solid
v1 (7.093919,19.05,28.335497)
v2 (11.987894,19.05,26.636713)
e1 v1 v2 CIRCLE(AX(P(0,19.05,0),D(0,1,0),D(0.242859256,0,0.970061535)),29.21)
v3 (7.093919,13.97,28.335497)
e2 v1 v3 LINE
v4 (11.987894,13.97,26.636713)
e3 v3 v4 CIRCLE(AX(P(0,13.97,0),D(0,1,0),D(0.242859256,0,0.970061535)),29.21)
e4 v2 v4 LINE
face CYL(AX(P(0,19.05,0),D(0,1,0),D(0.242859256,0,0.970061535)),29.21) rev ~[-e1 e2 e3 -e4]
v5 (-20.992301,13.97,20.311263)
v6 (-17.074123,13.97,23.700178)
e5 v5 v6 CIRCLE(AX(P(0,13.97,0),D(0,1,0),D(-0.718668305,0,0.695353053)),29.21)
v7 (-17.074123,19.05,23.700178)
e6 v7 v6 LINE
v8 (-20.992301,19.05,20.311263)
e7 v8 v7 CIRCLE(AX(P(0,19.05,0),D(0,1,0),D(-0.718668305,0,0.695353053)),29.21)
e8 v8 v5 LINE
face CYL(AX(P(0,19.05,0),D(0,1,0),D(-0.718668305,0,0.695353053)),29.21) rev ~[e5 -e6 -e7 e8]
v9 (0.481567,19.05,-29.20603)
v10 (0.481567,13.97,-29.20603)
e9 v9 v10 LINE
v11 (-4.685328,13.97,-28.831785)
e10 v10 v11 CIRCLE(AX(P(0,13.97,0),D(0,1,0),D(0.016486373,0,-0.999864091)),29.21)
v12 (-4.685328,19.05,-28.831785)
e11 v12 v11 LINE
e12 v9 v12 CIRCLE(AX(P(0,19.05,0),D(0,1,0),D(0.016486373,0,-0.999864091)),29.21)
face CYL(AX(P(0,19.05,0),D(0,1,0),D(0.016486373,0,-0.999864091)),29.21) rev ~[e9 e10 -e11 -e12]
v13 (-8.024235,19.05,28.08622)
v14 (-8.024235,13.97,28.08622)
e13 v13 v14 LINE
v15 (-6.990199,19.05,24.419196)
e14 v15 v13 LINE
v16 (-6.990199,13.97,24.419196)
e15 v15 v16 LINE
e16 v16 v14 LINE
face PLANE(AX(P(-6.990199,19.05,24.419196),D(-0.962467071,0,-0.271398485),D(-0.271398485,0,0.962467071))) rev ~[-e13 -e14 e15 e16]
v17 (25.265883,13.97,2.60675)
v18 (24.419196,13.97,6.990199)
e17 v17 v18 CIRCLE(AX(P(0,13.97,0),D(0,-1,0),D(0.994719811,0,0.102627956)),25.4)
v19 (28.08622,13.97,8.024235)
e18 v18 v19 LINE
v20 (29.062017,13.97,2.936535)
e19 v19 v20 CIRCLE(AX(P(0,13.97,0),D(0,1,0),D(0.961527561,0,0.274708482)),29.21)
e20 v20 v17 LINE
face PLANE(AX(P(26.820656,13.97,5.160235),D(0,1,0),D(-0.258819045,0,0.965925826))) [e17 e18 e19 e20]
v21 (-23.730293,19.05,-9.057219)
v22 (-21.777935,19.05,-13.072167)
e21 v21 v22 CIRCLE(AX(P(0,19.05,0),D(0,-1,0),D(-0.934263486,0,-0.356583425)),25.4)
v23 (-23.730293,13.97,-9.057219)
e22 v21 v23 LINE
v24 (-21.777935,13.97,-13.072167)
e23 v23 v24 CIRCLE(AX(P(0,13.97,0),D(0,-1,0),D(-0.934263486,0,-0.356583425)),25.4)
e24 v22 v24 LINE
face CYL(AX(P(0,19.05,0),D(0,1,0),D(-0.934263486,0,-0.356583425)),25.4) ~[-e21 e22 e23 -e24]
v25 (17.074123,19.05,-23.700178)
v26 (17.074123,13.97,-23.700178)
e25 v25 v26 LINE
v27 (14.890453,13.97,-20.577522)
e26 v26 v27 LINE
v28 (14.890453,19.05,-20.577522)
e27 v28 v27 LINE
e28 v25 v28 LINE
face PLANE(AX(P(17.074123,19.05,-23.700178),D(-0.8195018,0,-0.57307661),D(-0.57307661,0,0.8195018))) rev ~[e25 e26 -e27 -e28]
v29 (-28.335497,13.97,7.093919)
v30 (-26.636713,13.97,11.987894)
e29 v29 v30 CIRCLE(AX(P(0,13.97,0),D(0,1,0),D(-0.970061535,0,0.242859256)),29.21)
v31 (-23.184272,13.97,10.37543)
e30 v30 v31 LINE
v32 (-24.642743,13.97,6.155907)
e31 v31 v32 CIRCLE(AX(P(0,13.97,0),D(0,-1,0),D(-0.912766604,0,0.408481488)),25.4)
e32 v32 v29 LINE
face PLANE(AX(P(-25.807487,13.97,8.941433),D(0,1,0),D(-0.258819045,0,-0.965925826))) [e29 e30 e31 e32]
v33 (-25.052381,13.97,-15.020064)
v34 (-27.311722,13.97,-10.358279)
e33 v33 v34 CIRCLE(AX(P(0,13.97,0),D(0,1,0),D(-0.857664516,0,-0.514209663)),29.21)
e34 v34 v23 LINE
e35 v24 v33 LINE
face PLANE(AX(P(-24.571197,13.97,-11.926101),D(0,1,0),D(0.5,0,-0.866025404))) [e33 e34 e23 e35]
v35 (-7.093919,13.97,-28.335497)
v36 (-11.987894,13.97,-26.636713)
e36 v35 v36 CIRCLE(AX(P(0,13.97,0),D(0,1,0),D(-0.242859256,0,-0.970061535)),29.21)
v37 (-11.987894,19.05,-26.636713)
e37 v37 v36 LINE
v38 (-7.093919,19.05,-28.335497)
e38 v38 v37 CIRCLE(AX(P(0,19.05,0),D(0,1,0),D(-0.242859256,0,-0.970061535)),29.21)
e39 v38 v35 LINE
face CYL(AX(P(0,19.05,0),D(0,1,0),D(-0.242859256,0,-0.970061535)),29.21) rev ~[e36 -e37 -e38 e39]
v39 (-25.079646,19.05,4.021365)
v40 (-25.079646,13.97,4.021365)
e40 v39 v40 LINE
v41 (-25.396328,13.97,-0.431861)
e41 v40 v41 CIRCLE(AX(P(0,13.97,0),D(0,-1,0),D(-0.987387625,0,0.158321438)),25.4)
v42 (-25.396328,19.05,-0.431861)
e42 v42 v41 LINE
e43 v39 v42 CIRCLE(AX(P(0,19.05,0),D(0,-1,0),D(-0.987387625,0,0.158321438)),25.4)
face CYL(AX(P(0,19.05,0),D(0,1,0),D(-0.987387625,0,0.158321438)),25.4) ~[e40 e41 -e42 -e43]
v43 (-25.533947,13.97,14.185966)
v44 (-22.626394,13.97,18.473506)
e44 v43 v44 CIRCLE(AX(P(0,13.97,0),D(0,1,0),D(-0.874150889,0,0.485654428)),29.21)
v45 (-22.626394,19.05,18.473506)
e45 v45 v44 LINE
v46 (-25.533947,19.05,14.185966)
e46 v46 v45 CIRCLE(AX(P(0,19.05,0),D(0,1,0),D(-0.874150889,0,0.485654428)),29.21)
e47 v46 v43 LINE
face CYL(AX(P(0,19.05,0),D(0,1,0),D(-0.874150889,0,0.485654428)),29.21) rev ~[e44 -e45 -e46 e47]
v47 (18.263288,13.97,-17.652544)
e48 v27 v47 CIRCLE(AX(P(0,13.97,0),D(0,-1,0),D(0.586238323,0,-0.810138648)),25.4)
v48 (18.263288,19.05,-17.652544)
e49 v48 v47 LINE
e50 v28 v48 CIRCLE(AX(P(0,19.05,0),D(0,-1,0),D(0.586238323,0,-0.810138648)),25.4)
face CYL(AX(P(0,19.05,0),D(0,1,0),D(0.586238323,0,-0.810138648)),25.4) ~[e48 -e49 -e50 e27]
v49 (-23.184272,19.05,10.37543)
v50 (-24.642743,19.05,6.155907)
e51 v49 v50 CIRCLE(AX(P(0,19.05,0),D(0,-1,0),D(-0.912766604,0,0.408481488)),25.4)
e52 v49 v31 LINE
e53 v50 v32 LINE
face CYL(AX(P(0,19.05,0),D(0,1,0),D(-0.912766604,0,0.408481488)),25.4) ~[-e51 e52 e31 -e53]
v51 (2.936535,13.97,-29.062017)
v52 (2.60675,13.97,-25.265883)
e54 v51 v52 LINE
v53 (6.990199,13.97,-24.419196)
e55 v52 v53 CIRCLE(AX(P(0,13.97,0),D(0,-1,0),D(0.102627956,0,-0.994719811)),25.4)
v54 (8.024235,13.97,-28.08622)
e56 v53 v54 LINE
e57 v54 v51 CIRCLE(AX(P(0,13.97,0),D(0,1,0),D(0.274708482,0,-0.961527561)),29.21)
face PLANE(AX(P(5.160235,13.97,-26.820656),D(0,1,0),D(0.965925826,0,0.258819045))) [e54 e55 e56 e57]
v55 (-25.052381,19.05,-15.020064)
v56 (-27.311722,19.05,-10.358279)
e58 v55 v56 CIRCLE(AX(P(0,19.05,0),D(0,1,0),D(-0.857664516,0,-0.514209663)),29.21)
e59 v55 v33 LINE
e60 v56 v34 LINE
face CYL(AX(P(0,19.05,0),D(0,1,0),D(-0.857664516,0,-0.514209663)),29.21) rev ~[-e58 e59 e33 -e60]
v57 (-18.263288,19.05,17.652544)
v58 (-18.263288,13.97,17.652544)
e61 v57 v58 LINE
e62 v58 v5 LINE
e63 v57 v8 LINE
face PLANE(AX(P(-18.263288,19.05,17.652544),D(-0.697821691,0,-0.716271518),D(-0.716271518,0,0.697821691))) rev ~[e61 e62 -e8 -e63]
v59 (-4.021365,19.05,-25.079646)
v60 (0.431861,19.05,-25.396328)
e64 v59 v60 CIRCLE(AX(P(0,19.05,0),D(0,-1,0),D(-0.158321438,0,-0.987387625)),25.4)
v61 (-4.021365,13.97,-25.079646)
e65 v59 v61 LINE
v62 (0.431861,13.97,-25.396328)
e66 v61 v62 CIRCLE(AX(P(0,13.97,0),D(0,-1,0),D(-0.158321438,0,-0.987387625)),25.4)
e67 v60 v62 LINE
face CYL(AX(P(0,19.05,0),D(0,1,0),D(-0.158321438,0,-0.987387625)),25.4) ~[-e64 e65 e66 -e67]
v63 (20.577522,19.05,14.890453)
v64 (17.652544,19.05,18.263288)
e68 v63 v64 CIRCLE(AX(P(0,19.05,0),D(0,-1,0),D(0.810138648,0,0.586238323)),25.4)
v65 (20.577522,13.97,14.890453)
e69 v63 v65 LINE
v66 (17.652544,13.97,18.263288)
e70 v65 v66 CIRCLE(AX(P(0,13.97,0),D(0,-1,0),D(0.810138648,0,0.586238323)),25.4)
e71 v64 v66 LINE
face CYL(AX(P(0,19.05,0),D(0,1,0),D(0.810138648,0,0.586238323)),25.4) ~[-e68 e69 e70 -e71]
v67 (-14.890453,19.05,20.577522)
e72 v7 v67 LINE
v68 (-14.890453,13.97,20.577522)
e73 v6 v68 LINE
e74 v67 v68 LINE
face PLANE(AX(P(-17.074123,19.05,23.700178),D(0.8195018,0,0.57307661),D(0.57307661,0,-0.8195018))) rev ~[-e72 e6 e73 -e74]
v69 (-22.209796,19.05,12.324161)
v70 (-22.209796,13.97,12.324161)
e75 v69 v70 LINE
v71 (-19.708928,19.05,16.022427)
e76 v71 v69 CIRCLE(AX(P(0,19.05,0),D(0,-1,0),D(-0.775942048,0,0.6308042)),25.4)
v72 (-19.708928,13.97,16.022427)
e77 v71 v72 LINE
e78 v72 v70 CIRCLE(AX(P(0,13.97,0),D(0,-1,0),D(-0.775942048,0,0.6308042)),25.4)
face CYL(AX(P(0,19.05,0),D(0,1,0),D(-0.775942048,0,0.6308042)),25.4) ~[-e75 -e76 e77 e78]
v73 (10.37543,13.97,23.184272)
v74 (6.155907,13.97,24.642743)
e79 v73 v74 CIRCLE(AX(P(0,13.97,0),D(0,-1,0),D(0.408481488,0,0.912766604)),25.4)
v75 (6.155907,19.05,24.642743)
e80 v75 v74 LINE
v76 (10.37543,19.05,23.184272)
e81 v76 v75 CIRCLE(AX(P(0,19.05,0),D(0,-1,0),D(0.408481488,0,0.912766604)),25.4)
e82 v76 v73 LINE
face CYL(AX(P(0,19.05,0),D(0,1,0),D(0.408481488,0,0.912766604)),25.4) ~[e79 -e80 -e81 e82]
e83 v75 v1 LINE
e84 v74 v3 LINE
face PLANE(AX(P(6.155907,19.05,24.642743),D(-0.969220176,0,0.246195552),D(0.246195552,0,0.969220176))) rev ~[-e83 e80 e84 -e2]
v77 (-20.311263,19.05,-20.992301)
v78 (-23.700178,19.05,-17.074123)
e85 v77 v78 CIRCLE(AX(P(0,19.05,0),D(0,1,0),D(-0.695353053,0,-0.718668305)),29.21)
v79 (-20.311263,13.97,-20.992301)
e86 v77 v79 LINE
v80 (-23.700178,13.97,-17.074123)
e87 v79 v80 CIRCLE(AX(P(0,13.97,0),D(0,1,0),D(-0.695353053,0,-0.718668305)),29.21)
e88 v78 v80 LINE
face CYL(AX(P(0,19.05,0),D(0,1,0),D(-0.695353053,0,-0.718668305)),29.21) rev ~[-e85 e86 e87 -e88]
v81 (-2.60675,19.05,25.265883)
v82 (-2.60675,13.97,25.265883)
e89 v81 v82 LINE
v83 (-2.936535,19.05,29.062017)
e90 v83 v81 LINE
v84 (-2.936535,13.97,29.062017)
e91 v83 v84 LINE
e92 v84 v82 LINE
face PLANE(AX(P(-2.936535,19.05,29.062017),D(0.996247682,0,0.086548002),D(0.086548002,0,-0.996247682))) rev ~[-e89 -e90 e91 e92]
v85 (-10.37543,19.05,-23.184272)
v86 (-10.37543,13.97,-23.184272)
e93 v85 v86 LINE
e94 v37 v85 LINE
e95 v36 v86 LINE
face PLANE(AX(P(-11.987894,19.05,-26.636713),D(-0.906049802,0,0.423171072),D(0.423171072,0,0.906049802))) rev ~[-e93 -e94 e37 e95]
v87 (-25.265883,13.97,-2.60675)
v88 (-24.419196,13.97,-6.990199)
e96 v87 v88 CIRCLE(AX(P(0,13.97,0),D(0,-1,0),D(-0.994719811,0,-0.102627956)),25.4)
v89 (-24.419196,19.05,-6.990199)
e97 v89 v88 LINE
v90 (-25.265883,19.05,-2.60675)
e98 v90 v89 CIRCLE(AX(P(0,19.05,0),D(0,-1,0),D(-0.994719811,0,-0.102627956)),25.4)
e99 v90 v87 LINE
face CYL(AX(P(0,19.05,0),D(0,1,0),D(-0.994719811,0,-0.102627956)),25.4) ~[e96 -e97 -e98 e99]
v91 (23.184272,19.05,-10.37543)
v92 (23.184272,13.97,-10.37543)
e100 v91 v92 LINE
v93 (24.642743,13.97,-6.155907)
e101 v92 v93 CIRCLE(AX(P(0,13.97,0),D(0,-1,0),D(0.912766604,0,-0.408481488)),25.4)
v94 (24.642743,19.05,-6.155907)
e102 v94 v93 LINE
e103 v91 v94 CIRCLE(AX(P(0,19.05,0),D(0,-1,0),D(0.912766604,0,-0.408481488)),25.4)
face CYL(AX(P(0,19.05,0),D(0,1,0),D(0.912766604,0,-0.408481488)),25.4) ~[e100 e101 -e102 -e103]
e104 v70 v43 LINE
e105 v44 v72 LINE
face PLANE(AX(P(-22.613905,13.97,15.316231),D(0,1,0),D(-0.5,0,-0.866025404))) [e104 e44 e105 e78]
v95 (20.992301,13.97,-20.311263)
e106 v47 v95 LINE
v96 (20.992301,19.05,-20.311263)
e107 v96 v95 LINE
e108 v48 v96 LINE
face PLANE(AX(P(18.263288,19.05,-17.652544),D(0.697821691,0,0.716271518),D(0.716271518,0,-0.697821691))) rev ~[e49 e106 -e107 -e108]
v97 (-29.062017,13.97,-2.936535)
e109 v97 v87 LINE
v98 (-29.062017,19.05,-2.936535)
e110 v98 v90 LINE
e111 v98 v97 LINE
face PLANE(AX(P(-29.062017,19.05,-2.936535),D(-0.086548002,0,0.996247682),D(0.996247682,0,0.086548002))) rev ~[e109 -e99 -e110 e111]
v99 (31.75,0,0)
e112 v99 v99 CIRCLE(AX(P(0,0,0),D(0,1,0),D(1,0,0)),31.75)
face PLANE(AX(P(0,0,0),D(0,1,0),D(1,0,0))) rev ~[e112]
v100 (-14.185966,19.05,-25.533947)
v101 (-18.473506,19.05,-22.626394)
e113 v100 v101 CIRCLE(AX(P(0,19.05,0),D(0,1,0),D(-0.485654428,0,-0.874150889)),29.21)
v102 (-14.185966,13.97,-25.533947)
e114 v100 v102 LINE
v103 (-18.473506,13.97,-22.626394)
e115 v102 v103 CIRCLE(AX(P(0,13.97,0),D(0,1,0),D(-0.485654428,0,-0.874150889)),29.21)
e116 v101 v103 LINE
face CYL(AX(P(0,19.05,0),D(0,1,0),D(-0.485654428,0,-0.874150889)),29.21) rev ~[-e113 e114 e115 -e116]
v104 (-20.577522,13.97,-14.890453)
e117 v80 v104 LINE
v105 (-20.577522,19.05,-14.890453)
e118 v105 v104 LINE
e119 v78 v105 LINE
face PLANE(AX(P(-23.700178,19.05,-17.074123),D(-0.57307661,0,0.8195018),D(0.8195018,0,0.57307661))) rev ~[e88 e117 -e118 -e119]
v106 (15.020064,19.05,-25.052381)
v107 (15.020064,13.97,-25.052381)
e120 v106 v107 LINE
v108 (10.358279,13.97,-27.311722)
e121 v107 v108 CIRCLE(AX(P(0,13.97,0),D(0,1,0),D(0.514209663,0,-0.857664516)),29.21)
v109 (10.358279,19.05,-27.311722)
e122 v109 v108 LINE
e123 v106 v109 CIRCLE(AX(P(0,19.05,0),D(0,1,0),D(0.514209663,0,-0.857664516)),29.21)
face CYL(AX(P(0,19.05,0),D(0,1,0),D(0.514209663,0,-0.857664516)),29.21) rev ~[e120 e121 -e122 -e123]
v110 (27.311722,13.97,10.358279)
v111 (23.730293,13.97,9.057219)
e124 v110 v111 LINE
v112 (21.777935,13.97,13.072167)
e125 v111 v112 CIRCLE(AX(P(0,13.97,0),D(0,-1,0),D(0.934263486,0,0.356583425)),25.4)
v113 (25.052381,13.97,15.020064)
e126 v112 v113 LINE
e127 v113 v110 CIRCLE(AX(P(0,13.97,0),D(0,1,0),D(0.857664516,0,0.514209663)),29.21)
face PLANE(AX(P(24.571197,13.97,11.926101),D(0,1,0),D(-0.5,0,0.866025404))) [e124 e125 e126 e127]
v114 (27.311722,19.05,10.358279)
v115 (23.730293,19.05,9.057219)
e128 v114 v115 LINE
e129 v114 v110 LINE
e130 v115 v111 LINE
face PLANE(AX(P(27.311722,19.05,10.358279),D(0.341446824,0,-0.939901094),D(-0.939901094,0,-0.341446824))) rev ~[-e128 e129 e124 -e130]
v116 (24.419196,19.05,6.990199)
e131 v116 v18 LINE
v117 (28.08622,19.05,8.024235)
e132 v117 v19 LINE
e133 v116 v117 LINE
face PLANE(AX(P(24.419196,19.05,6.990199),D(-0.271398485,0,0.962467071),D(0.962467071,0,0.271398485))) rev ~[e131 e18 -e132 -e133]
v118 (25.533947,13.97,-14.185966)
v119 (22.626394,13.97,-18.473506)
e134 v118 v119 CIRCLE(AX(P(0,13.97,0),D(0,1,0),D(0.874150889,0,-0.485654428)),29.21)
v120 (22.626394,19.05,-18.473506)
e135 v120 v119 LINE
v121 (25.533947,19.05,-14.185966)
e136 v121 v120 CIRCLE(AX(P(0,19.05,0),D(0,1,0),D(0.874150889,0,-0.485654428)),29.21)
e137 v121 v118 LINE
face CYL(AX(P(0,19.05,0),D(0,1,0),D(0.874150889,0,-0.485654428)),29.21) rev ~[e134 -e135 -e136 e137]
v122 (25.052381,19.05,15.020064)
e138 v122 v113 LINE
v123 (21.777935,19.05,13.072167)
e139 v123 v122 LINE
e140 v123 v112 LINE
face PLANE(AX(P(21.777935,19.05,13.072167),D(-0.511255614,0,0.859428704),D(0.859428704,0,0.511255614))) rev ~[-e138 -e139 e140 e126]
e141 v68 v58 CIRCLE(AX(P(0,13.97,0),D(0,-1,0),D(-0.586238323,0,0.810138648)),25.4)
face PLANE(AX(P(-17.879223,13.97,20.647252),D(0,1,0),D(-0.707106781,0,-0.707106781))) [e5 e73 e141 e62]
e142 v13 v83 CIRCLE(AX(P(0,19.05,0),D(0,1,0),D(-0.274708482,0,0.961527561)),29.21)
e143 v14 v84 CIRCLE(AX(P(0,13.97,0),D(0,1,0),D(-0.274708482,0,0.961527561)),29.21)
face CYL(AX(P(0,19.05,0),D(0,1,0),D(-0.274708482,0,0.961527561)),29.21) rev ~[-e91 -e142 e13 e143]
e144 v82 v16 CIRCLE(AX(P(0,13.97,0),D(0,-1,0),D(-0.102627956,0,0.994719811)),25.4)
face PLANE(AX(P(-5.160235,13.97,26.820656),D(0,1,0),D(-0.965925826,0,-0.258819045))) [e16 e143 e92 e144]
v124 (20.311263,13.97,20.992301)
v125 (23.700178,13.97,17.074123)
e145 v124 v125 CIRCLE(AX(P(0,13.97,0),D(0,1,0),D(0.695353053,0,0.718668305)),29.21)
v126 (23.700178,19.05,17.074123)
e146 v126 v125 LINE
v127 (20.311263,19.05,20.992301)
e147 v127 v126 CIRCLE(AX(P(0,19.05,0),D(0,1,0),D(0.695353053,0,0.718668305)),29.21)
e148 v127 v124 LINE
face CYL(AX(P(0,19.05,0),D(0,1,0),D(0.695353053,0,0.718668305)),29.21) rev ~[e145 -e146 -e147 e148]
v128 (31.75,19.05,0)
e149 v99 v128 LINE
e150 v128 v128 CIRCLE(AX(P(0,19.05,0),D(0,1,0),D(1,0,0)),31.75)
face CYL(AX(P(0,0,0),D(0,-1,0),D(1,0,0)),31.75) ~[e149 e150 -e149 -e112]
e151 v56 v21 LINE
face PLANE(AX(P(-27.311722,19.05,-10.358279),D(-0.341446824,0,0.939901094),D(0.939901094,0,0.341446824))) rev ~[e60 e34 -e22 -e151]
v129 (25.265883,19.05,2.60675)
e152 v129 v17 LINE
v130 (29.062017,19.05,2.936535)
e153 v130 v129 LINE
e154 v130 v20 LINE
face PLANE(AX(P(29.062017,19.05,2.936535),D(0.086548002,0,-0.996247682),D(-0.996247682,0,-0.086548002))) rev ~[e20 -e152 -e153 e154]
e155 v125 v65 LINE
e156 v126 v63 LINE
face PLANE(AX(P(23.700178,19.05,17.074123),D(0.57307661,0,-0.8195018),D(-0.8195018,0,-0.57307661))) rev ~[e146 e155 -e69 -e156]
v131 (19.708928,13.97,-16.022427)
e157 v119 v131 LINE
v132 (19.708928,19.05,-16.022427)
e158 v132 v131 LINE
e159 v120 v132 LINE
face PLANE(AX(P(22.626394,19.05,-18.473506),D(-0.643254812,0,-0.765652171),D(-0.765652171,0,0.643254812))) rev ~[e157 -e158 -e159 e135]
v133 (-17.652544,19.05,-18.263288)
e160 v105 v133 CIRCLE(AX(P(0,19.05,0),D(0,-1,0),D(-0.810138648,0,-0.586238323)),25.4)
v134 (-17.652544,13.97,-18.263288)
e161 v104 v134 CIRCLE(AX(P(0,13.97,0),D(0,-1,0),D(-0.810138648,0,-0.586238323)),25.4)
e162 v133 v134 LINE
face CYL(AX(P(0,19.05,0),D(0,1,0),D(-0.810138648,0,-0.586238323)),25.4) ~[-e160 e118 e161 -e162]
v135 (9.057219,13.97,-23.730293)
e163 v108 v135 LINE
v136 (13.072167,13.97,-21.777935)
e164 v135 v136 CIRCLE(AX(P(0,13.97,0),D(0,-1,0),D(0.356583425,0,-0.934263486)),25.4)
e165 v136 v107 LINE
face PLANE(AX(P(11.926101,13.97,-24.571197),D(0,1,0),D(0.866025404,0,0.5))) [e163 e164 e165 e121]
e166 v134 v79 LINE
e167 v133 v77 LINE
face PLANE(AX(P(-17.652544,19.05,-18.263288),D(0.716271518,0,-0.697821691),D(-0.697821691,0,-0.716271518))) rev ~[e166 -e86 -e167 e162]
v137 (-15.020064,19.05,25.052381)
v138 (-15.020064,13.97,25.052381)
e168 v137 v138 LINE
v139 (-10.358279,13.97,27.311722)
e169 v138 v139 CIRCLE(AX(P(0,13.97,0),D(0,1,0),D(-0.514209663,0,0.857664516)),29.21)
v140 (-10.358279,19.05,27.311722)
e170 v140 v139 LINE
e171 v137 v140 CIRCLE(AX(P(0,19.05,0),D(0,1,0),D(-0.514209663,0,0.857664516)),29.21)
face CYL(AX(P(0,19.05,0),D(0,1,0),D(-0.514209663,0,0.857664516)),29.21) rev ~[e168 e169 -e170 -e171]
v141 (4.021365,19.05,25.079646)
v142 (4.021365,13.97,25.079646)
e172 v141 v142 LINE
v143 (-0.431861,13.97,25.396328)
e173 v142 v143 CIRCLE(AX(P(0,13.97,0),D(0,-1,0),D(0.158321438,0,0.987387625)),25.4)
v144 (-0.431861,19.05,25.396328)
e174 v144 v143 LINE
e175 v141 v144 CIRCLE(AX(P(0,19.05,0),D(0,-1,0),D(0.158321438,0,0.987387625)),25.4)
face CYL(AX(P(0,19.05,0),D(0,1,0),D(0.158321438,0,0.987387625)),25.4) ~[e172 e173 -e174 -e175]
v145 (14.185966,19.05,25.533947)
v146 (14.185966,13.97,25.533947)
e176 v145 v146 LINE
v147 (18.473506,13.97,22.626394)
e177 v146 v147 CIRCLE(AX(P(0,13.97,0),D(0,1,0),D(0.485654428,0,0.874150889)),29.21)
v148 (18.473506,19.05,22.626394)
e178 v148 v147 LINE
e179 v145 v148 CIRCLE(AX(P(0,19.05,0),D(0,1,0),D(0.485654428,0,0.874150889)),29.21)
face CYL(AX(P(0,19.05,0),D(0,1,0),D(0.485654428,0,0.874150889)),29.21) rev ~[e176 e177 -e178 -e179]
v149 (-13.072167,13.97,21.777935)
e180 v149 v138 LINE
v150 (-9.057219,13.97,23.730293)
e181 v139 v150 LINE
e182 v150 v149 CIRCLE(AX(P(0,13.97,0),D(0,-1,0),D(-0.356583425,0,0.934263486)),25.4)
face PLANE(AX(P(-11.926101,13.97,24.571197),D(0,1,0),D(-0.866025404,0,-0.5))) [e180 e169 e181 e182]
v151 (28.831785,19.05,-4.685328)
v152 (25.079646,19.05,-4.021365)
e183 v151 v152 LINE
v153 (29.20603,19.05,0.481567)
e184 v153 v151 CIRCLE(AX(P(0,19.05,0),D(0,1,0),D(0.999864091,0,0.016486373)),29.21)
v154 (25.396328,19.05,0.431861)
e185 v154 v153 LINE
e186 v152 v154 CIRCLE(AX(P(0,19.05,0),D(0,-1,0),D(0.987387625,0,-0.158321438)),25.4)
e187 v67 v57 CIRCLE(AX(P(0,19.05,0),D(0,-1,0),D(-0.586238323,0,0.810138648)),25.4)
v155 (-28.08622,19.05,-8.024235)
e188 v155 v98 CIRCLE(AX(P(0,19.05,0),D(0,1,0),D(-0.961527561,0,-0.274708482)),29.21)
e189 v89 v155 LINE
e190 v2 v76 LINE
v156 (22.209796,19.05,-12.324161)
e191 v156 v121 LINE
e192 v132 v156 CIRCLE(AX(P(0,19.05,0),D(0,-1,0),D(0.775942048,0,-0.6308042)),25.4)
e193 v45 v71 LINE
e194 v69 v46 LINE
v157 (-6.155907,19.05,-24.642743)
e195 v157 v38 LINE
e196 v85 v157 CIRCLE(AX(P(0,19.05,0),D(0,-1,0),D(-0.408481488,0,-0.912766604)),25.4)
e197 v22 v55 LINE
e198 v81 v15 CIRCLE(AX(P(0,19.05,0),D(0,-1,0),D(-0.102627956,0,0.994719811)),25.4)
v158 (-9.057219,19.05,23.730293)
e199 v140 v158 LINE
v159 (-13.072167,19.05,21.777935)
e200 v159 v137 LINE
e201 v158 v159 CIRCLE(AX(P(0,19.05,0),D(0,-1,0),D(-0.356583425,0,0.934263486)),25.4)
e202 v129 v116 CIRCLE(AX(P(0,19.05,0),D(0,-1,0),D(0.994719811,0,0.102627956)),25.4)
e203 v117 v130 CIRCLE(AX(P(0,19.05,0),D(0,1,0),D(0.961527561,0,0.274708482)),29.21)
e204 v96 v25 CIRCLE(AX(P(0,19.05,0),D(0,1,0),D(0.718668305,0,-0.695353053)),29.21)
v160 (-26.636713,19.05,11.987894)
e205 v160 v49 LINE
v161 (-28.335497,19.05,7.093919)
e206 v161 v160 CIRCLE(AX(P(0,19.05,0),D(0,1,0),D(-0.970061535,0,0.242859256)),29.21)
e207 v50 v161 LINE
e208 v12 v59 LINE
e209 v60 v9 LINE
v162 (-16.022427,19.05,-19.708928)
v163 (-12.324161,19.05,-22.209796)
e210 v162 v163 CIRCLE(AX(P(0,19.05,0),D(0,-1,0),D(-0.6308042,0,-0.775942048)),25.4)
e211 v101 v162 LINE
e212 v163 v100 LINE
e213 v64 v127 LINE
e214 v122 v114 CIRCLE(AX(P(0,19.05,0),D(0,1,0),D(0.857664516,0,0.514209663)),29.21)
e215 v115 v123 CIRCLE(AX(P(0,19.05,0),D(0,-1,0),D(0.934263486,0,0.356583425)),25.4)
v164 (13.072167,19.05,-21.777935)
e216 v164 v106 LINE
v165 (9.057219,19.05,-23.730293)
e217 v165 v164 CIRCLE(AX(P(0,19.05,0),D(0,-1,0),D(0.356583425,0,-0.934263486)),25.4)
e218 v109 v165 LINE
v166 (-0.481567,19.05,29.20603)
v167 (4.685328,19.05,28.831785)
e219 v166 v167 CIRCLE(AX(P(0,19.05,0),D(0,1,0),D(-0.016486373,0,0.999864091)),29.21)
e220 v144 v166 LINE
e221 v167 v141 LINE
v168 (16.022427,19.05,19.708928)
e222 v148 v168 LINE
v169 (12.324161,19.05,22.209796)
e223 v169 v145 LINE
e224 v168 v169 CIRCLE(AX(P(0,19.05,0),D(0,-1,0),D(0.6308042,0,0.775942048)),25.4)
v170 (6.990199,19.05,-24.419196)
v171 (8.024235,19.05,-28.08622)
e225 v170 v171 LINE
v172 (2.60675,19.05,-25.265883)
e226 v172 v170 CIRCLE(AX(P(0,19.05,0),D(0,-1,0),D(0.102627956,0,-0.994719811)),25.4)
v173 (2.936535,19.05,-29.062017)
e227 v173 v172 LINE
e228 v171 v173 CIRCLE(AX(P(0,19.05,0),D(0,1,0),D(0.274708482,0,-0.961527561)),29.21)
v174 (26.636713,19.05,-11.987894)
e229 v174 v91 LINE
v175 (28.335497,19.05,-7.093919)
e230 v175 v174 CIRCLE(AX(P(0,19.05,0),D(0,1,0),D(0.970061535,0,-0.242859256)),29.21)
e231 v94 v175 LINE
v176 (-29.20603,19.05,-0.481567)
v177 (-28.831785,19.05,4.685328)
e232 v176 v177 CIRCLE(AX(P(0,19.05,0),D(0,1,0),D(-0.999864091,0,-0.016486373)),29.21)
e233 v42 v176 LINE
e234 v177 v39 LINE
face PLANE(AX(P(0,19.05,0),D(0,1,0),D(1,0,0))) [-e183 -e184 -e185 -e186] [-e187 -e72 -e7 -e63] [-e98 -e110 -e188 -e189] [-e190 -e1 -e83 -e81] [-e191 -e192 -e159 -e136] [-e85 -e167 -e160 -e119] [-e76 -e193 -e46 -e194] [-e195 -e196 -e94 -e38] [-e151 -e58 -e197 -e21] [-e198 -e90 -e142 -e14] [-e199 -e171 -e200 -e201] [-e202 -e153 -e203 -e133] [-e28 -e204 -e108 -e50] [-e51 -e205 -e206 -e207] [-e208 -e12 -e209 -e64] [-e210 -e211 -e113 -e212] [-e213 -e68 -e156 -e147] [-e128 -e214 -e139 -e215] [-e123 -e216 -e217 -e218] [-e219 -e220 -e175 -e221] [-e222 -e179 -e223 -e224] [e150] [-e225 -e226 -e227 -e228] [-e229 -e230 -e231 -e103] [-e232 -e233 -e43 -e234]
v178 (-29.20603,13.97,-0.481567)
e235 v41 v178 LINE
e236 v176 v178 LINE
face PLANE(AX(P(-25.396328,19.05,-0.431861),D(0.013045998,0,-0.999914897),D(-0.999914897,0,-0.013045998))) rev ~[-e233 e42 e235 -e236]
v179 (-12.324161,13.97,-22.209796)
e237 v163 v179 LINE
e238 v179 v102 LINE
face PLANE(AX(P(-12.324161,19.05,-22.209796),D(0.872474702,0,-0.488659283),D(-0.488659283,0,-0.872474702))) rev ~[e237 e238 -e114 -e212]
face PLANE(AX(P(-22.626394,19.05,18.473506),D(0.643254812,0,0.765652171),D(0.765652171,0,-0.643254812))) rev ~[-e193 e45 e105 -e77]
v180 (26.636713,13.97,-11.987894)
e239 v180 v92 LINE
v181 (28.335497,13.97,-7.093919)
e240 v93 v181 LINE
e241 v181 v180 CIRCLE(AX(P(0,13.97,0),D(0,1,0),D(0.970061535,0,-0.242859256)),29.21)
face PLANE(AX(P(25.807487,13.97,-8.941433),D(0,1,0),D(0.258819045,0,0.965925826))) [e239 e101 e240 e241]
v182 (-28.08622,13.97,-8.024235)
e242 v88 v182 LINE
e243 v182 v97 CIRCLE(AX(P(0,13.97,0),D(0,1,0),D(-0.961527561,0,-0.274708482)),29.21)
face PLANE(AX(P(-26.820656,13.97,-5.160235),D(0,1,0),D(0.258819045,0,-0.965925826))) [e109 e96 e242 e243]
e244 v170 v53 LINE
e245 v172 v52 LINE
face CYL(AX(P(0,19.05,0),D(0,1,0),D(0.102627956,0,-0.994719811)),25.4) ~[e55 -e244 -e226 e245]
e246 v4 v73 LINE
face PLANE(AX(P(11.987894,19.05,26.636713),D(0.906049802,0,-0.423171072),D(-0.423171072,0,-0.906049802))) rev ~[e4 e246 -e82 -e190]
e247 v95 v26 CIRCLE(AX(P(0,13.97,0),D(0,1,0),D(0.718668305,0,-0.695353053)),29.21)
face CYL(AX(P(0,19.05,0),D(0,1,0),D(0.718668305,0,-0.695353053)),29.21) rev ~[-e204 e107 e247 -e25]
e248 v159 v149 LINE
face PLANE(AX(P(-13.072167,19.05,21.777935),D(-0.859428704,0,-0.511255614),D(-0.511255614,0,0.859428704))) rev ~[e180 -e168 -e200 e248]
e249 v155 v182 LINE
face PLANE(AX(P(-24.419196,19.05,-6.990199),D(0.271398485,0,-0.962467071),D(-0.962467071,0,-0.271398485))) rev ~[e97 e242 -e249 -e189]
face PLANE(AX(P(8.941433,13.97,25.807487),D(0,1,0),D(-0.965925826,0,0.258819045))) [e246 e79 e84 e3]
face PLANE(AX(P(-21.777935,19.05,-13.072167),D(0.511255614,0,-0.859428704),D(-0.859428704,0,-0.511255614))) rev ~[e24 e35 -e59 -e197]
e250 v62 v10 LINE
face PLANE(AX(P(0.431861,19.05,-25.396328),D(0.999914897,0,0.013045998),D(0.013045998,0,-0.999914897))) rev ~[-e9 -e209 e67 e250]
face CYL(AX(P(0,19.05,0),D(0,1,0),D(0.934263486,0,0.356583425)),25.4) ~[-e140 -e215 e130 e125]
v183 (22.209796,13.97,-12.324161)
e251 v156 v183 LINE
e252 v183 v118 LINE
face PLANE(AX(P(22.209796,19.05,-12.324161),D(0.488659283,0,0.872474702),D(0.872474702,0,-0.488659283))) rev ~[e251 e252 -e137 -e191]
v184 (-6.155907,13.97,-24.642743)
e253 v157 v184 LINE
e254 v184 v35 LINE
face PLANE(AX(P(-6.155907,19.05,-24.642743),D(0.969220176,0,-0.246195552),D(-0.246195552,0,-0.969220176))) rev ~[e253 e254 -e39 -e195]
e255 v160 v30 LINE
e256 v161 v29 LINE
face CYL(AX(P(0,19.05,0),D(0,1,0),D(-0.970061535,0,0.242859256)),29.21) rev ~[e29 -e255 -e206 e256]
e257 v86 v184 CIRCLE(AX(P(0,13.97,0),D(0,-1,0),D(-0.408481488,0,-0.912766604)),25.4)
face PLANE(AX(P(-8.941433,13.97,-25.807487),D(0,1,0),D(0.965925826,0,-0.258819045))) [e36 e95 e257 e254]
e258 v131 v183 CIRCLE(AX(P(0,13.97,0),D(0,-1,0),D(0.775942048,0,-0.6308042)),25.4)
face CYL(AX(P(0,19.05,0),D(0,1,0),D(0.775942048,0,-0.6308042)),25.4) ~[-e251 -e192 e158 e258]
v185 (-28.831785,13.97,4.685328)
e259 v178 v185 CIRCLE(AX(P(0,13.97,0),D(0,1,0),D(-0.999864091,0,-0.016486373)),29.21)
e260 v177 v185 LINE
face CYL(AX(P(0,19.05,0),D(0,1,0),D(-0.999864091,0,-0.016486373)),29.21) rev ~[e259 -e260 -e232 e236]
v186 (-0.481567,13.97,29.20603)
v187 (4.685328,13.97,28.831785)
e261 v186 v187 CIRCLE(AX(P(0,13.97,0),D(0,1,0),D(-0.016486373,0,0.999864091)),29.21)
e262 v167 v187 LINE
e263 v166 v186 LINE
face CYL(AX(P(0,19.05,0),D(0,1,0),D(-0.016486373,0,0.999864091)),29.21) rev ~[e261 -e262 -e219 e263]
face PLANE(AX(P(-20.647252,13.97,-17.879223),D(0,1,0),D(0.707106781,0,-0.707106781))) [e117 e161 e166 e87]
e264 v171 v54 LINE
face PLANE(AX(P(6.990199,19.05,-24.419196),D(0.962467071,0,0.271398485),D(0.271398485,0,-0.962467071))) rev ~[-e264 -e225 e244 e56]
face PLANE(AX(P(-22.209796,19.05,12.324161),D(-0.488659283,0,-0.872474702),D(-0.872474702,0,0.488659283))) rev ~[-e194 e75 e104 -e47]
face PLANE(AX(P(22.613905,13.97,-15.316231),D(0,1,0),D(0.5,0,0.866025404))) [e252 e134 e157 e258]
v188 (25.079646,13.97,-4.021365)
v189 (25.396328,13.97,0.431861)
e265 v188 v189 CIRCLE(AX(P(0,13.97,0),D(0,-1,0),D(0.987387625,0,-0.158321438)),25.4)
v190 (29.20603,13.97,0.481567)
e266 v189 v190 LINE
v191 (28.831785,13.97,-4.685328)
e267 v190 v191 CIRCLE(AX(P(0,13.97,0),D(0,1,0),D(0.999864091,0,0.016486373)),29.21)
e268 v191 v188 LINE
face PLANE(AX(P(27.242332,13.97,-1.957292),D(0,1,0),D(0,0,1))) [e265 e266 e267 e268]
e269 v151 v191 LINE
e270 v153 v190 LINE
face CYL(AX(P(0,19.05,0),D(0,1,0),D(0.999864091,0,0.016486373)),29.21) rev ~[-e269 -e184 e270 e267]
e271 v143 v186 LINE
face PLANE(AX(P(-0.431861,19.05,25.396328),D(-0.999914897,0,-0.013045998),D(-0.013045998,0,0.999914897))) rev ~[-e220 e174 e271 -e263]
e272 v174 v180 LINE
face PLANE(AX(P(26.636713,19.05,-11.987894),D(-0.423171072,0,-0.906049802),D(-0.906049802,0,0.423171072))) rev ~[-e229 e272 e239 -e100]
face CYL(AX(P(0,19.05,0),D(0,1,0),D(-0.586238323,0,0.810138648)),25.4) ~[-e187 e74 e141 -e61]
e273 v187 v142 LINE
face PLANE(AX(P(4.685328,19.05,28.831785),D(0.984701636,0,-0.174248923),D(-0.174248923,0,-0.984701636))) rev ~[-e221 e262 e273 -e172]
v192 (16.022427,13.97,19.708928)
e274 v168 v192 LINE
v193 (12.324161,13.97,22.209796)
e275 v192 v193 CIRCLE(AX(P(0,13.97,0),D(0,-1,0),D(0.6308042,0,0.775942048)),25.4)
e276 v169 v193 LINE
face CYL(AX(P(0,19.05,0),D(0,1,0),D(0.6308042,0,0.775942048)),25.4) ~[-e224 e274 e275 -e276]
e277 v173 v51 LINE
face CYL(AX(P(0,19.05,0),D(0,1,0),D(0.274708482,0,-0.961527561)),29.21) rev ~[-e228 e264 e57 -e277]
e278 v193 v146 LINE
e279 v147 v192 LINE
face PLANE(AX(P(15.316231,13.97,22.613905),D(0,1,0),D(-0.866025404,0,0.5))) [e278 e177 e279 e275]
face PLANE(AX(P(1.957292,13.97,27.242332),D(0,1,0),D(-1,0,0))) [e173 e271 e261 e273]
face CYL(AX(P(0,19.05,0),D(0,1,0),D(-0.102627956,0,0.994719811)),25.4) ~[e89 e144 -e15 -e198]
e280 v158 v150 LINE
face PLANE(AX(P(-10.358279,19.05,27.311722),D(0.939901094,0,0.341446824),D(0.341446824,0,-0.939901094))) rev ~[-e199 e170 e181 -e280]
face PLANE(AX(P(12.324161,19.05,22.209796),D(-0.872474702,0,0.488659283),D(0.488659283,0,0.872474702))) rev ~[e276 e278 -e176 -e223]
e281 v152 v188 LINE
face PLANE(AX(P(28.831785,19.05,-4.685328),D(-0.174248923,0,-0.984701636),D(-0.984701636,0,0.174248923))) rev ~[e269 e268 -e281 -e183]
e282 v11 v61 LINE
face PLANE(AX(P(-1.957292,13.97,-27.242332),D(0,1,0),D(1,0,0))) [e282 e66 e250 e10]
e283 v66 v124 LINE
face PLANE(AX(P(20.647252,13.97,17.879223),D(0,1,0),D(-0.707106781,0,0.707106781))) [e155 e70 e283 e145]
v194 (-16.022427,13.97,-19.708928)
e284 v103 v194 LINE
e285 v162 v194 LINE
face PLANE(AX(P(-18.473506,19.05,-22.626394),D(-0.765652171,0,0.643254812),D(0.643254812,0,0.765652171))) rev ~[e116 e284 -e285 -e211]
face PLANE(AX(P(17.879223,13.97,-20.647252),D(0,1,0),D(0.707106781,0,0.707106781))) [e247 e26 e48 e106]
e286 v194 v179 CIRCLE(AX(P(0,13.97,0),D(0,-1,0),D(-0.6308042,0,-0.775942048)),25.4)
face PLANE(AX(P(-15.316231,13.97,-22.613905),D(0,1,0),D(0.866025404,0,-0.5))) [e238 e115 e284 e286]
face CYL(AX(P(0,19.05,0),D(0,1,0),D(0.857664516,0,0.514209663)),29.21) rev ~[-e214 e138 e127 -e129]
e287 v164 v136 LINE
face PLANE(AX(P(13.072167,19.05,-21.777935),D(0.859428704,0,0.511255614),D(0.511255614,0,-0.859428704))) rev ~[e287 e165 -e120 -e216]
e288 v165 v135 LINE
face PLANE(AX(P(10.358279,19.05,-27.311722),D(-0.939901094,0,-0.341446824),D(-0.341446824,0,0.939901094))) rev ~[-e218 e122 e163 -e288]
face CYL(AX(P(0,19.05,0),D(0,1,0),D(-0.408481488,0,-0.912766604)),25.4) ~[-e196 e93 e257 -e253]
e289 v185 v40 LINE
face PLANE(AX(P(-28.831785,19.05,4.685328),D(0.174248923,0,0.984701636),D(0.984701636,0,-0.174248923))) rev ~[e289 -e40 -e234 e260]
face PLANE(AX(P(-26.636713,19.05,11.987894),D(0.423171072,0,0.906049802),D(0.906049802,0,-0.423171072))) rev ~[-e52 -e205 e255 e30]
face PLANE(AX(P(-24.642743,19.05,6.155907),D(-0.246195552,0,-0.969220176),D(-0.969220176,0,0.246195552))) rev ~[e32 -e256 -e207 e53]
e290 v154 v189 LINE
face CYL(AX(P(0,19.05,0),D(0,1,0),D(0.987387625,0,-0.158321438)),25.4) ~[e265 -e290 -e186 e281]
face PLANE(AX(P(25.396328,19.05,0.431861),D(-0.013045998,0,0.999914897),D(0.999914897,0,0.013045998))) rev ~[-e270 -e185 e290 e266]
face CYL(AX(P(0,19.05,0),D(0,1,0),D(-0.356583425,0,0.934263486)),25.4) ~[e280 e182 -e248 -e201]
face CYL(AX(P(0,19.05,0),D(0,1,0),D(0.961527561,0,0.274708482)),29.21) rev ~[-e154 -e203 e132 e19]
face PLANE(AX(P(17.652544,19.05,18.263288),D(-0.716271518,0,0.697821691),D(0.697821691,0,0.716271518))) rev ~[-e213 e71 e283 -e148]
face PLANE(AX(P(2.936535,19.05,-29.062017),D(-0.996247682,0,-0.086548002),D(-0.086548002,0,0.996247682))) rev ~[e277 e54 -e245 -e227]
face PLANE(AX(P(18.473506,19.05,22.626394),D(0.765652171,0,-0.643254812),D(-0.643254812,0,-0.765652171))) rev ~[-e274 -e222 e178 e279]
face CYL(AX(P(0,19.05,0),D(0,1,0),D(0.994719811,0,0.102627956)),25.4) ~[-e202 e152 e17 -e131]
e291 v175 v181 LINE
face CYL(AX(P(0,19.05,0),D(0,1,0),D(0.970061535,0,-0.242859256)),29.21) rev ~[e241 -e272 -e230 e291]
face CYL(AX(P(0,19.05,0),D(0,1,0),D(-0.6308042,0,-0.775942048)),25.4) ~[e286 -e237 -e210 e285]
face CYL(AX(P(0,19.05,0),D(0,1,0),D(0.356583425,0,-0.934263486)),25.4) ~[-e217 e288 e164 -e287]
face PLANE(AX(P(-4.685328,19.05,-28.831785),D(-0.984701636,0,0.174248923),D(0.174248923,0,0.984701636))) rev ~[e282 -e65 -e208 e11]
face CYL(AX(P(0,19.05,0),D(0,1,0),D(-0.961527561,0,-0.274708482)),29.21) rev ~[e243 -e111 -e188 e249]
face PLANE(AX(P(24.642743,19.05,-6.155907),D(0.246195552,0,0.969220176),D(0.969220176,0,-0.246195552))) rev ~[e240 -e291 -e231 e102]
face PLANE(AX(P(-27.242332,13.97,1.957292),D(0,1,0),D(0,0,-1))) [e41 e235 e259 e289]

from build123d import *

# Parameters (mm, degrees)
SKETCH1_R           = 31.75
BOSS_EXTRUDE1_DEPTH = 19.05
CUT_EXTRUDE1_DEPTH  = 5.08
CIRPATTERN1_COUNT   = 24


with BuildPart() as part:
    # Sketch1 → Boss-Extrude1 (new body)
    with BuildSketch(Plane(origin=(0, 0, 0), x_dir=(1, 0, 0), z_dir=(0, 1, 0))):
        Circle(SKETCH1_R)
    extrude(amount=BOSS_EXTRUDE1_DEPTH)

    # Sketch2 → Cut-Extrude1 (cut)
    with BuildSketch(Plane(origin=(0, 19.05, 0), x_dir=(1, 0, 0), z_dir=(0, 1, 0))):
        with BuildLine():
            Line((0.431861346, 25.396328392), (0.481566937, 29.206030084))
            ThreePointArc((0.481566937, 29.206030084), (-2.110193645, 29.133677811), (-4.685328245, 28.831784531))
            Line((-4.685328245, 28.831784531), (-4.021364533, 25.079645677))
            ThreePointArc((-4.021364533, 25.079645677), (-1.801722861, 25.336017736), (0.431861346, 25.396328392))
        make_face()
    cut_extrude1 = extrude(amount=-CUT_EXTRUDE1_DEPTH, mode=Mode.SUBTRACT)

    # CirPattern1: Cut-Extrude1 ×24 about axis
    cirpattern1_axis = Axis((0, 0, 0), (0, 1, 0))
    for i in range(1, CIRPATTERN1_COUNT):
        add(cut_extrude1.rotate(cirpattern1_axis, i * 360 / CIRPATTERN1_COUNT), mode=Mode.SUBTRACT)


solid = part.part
